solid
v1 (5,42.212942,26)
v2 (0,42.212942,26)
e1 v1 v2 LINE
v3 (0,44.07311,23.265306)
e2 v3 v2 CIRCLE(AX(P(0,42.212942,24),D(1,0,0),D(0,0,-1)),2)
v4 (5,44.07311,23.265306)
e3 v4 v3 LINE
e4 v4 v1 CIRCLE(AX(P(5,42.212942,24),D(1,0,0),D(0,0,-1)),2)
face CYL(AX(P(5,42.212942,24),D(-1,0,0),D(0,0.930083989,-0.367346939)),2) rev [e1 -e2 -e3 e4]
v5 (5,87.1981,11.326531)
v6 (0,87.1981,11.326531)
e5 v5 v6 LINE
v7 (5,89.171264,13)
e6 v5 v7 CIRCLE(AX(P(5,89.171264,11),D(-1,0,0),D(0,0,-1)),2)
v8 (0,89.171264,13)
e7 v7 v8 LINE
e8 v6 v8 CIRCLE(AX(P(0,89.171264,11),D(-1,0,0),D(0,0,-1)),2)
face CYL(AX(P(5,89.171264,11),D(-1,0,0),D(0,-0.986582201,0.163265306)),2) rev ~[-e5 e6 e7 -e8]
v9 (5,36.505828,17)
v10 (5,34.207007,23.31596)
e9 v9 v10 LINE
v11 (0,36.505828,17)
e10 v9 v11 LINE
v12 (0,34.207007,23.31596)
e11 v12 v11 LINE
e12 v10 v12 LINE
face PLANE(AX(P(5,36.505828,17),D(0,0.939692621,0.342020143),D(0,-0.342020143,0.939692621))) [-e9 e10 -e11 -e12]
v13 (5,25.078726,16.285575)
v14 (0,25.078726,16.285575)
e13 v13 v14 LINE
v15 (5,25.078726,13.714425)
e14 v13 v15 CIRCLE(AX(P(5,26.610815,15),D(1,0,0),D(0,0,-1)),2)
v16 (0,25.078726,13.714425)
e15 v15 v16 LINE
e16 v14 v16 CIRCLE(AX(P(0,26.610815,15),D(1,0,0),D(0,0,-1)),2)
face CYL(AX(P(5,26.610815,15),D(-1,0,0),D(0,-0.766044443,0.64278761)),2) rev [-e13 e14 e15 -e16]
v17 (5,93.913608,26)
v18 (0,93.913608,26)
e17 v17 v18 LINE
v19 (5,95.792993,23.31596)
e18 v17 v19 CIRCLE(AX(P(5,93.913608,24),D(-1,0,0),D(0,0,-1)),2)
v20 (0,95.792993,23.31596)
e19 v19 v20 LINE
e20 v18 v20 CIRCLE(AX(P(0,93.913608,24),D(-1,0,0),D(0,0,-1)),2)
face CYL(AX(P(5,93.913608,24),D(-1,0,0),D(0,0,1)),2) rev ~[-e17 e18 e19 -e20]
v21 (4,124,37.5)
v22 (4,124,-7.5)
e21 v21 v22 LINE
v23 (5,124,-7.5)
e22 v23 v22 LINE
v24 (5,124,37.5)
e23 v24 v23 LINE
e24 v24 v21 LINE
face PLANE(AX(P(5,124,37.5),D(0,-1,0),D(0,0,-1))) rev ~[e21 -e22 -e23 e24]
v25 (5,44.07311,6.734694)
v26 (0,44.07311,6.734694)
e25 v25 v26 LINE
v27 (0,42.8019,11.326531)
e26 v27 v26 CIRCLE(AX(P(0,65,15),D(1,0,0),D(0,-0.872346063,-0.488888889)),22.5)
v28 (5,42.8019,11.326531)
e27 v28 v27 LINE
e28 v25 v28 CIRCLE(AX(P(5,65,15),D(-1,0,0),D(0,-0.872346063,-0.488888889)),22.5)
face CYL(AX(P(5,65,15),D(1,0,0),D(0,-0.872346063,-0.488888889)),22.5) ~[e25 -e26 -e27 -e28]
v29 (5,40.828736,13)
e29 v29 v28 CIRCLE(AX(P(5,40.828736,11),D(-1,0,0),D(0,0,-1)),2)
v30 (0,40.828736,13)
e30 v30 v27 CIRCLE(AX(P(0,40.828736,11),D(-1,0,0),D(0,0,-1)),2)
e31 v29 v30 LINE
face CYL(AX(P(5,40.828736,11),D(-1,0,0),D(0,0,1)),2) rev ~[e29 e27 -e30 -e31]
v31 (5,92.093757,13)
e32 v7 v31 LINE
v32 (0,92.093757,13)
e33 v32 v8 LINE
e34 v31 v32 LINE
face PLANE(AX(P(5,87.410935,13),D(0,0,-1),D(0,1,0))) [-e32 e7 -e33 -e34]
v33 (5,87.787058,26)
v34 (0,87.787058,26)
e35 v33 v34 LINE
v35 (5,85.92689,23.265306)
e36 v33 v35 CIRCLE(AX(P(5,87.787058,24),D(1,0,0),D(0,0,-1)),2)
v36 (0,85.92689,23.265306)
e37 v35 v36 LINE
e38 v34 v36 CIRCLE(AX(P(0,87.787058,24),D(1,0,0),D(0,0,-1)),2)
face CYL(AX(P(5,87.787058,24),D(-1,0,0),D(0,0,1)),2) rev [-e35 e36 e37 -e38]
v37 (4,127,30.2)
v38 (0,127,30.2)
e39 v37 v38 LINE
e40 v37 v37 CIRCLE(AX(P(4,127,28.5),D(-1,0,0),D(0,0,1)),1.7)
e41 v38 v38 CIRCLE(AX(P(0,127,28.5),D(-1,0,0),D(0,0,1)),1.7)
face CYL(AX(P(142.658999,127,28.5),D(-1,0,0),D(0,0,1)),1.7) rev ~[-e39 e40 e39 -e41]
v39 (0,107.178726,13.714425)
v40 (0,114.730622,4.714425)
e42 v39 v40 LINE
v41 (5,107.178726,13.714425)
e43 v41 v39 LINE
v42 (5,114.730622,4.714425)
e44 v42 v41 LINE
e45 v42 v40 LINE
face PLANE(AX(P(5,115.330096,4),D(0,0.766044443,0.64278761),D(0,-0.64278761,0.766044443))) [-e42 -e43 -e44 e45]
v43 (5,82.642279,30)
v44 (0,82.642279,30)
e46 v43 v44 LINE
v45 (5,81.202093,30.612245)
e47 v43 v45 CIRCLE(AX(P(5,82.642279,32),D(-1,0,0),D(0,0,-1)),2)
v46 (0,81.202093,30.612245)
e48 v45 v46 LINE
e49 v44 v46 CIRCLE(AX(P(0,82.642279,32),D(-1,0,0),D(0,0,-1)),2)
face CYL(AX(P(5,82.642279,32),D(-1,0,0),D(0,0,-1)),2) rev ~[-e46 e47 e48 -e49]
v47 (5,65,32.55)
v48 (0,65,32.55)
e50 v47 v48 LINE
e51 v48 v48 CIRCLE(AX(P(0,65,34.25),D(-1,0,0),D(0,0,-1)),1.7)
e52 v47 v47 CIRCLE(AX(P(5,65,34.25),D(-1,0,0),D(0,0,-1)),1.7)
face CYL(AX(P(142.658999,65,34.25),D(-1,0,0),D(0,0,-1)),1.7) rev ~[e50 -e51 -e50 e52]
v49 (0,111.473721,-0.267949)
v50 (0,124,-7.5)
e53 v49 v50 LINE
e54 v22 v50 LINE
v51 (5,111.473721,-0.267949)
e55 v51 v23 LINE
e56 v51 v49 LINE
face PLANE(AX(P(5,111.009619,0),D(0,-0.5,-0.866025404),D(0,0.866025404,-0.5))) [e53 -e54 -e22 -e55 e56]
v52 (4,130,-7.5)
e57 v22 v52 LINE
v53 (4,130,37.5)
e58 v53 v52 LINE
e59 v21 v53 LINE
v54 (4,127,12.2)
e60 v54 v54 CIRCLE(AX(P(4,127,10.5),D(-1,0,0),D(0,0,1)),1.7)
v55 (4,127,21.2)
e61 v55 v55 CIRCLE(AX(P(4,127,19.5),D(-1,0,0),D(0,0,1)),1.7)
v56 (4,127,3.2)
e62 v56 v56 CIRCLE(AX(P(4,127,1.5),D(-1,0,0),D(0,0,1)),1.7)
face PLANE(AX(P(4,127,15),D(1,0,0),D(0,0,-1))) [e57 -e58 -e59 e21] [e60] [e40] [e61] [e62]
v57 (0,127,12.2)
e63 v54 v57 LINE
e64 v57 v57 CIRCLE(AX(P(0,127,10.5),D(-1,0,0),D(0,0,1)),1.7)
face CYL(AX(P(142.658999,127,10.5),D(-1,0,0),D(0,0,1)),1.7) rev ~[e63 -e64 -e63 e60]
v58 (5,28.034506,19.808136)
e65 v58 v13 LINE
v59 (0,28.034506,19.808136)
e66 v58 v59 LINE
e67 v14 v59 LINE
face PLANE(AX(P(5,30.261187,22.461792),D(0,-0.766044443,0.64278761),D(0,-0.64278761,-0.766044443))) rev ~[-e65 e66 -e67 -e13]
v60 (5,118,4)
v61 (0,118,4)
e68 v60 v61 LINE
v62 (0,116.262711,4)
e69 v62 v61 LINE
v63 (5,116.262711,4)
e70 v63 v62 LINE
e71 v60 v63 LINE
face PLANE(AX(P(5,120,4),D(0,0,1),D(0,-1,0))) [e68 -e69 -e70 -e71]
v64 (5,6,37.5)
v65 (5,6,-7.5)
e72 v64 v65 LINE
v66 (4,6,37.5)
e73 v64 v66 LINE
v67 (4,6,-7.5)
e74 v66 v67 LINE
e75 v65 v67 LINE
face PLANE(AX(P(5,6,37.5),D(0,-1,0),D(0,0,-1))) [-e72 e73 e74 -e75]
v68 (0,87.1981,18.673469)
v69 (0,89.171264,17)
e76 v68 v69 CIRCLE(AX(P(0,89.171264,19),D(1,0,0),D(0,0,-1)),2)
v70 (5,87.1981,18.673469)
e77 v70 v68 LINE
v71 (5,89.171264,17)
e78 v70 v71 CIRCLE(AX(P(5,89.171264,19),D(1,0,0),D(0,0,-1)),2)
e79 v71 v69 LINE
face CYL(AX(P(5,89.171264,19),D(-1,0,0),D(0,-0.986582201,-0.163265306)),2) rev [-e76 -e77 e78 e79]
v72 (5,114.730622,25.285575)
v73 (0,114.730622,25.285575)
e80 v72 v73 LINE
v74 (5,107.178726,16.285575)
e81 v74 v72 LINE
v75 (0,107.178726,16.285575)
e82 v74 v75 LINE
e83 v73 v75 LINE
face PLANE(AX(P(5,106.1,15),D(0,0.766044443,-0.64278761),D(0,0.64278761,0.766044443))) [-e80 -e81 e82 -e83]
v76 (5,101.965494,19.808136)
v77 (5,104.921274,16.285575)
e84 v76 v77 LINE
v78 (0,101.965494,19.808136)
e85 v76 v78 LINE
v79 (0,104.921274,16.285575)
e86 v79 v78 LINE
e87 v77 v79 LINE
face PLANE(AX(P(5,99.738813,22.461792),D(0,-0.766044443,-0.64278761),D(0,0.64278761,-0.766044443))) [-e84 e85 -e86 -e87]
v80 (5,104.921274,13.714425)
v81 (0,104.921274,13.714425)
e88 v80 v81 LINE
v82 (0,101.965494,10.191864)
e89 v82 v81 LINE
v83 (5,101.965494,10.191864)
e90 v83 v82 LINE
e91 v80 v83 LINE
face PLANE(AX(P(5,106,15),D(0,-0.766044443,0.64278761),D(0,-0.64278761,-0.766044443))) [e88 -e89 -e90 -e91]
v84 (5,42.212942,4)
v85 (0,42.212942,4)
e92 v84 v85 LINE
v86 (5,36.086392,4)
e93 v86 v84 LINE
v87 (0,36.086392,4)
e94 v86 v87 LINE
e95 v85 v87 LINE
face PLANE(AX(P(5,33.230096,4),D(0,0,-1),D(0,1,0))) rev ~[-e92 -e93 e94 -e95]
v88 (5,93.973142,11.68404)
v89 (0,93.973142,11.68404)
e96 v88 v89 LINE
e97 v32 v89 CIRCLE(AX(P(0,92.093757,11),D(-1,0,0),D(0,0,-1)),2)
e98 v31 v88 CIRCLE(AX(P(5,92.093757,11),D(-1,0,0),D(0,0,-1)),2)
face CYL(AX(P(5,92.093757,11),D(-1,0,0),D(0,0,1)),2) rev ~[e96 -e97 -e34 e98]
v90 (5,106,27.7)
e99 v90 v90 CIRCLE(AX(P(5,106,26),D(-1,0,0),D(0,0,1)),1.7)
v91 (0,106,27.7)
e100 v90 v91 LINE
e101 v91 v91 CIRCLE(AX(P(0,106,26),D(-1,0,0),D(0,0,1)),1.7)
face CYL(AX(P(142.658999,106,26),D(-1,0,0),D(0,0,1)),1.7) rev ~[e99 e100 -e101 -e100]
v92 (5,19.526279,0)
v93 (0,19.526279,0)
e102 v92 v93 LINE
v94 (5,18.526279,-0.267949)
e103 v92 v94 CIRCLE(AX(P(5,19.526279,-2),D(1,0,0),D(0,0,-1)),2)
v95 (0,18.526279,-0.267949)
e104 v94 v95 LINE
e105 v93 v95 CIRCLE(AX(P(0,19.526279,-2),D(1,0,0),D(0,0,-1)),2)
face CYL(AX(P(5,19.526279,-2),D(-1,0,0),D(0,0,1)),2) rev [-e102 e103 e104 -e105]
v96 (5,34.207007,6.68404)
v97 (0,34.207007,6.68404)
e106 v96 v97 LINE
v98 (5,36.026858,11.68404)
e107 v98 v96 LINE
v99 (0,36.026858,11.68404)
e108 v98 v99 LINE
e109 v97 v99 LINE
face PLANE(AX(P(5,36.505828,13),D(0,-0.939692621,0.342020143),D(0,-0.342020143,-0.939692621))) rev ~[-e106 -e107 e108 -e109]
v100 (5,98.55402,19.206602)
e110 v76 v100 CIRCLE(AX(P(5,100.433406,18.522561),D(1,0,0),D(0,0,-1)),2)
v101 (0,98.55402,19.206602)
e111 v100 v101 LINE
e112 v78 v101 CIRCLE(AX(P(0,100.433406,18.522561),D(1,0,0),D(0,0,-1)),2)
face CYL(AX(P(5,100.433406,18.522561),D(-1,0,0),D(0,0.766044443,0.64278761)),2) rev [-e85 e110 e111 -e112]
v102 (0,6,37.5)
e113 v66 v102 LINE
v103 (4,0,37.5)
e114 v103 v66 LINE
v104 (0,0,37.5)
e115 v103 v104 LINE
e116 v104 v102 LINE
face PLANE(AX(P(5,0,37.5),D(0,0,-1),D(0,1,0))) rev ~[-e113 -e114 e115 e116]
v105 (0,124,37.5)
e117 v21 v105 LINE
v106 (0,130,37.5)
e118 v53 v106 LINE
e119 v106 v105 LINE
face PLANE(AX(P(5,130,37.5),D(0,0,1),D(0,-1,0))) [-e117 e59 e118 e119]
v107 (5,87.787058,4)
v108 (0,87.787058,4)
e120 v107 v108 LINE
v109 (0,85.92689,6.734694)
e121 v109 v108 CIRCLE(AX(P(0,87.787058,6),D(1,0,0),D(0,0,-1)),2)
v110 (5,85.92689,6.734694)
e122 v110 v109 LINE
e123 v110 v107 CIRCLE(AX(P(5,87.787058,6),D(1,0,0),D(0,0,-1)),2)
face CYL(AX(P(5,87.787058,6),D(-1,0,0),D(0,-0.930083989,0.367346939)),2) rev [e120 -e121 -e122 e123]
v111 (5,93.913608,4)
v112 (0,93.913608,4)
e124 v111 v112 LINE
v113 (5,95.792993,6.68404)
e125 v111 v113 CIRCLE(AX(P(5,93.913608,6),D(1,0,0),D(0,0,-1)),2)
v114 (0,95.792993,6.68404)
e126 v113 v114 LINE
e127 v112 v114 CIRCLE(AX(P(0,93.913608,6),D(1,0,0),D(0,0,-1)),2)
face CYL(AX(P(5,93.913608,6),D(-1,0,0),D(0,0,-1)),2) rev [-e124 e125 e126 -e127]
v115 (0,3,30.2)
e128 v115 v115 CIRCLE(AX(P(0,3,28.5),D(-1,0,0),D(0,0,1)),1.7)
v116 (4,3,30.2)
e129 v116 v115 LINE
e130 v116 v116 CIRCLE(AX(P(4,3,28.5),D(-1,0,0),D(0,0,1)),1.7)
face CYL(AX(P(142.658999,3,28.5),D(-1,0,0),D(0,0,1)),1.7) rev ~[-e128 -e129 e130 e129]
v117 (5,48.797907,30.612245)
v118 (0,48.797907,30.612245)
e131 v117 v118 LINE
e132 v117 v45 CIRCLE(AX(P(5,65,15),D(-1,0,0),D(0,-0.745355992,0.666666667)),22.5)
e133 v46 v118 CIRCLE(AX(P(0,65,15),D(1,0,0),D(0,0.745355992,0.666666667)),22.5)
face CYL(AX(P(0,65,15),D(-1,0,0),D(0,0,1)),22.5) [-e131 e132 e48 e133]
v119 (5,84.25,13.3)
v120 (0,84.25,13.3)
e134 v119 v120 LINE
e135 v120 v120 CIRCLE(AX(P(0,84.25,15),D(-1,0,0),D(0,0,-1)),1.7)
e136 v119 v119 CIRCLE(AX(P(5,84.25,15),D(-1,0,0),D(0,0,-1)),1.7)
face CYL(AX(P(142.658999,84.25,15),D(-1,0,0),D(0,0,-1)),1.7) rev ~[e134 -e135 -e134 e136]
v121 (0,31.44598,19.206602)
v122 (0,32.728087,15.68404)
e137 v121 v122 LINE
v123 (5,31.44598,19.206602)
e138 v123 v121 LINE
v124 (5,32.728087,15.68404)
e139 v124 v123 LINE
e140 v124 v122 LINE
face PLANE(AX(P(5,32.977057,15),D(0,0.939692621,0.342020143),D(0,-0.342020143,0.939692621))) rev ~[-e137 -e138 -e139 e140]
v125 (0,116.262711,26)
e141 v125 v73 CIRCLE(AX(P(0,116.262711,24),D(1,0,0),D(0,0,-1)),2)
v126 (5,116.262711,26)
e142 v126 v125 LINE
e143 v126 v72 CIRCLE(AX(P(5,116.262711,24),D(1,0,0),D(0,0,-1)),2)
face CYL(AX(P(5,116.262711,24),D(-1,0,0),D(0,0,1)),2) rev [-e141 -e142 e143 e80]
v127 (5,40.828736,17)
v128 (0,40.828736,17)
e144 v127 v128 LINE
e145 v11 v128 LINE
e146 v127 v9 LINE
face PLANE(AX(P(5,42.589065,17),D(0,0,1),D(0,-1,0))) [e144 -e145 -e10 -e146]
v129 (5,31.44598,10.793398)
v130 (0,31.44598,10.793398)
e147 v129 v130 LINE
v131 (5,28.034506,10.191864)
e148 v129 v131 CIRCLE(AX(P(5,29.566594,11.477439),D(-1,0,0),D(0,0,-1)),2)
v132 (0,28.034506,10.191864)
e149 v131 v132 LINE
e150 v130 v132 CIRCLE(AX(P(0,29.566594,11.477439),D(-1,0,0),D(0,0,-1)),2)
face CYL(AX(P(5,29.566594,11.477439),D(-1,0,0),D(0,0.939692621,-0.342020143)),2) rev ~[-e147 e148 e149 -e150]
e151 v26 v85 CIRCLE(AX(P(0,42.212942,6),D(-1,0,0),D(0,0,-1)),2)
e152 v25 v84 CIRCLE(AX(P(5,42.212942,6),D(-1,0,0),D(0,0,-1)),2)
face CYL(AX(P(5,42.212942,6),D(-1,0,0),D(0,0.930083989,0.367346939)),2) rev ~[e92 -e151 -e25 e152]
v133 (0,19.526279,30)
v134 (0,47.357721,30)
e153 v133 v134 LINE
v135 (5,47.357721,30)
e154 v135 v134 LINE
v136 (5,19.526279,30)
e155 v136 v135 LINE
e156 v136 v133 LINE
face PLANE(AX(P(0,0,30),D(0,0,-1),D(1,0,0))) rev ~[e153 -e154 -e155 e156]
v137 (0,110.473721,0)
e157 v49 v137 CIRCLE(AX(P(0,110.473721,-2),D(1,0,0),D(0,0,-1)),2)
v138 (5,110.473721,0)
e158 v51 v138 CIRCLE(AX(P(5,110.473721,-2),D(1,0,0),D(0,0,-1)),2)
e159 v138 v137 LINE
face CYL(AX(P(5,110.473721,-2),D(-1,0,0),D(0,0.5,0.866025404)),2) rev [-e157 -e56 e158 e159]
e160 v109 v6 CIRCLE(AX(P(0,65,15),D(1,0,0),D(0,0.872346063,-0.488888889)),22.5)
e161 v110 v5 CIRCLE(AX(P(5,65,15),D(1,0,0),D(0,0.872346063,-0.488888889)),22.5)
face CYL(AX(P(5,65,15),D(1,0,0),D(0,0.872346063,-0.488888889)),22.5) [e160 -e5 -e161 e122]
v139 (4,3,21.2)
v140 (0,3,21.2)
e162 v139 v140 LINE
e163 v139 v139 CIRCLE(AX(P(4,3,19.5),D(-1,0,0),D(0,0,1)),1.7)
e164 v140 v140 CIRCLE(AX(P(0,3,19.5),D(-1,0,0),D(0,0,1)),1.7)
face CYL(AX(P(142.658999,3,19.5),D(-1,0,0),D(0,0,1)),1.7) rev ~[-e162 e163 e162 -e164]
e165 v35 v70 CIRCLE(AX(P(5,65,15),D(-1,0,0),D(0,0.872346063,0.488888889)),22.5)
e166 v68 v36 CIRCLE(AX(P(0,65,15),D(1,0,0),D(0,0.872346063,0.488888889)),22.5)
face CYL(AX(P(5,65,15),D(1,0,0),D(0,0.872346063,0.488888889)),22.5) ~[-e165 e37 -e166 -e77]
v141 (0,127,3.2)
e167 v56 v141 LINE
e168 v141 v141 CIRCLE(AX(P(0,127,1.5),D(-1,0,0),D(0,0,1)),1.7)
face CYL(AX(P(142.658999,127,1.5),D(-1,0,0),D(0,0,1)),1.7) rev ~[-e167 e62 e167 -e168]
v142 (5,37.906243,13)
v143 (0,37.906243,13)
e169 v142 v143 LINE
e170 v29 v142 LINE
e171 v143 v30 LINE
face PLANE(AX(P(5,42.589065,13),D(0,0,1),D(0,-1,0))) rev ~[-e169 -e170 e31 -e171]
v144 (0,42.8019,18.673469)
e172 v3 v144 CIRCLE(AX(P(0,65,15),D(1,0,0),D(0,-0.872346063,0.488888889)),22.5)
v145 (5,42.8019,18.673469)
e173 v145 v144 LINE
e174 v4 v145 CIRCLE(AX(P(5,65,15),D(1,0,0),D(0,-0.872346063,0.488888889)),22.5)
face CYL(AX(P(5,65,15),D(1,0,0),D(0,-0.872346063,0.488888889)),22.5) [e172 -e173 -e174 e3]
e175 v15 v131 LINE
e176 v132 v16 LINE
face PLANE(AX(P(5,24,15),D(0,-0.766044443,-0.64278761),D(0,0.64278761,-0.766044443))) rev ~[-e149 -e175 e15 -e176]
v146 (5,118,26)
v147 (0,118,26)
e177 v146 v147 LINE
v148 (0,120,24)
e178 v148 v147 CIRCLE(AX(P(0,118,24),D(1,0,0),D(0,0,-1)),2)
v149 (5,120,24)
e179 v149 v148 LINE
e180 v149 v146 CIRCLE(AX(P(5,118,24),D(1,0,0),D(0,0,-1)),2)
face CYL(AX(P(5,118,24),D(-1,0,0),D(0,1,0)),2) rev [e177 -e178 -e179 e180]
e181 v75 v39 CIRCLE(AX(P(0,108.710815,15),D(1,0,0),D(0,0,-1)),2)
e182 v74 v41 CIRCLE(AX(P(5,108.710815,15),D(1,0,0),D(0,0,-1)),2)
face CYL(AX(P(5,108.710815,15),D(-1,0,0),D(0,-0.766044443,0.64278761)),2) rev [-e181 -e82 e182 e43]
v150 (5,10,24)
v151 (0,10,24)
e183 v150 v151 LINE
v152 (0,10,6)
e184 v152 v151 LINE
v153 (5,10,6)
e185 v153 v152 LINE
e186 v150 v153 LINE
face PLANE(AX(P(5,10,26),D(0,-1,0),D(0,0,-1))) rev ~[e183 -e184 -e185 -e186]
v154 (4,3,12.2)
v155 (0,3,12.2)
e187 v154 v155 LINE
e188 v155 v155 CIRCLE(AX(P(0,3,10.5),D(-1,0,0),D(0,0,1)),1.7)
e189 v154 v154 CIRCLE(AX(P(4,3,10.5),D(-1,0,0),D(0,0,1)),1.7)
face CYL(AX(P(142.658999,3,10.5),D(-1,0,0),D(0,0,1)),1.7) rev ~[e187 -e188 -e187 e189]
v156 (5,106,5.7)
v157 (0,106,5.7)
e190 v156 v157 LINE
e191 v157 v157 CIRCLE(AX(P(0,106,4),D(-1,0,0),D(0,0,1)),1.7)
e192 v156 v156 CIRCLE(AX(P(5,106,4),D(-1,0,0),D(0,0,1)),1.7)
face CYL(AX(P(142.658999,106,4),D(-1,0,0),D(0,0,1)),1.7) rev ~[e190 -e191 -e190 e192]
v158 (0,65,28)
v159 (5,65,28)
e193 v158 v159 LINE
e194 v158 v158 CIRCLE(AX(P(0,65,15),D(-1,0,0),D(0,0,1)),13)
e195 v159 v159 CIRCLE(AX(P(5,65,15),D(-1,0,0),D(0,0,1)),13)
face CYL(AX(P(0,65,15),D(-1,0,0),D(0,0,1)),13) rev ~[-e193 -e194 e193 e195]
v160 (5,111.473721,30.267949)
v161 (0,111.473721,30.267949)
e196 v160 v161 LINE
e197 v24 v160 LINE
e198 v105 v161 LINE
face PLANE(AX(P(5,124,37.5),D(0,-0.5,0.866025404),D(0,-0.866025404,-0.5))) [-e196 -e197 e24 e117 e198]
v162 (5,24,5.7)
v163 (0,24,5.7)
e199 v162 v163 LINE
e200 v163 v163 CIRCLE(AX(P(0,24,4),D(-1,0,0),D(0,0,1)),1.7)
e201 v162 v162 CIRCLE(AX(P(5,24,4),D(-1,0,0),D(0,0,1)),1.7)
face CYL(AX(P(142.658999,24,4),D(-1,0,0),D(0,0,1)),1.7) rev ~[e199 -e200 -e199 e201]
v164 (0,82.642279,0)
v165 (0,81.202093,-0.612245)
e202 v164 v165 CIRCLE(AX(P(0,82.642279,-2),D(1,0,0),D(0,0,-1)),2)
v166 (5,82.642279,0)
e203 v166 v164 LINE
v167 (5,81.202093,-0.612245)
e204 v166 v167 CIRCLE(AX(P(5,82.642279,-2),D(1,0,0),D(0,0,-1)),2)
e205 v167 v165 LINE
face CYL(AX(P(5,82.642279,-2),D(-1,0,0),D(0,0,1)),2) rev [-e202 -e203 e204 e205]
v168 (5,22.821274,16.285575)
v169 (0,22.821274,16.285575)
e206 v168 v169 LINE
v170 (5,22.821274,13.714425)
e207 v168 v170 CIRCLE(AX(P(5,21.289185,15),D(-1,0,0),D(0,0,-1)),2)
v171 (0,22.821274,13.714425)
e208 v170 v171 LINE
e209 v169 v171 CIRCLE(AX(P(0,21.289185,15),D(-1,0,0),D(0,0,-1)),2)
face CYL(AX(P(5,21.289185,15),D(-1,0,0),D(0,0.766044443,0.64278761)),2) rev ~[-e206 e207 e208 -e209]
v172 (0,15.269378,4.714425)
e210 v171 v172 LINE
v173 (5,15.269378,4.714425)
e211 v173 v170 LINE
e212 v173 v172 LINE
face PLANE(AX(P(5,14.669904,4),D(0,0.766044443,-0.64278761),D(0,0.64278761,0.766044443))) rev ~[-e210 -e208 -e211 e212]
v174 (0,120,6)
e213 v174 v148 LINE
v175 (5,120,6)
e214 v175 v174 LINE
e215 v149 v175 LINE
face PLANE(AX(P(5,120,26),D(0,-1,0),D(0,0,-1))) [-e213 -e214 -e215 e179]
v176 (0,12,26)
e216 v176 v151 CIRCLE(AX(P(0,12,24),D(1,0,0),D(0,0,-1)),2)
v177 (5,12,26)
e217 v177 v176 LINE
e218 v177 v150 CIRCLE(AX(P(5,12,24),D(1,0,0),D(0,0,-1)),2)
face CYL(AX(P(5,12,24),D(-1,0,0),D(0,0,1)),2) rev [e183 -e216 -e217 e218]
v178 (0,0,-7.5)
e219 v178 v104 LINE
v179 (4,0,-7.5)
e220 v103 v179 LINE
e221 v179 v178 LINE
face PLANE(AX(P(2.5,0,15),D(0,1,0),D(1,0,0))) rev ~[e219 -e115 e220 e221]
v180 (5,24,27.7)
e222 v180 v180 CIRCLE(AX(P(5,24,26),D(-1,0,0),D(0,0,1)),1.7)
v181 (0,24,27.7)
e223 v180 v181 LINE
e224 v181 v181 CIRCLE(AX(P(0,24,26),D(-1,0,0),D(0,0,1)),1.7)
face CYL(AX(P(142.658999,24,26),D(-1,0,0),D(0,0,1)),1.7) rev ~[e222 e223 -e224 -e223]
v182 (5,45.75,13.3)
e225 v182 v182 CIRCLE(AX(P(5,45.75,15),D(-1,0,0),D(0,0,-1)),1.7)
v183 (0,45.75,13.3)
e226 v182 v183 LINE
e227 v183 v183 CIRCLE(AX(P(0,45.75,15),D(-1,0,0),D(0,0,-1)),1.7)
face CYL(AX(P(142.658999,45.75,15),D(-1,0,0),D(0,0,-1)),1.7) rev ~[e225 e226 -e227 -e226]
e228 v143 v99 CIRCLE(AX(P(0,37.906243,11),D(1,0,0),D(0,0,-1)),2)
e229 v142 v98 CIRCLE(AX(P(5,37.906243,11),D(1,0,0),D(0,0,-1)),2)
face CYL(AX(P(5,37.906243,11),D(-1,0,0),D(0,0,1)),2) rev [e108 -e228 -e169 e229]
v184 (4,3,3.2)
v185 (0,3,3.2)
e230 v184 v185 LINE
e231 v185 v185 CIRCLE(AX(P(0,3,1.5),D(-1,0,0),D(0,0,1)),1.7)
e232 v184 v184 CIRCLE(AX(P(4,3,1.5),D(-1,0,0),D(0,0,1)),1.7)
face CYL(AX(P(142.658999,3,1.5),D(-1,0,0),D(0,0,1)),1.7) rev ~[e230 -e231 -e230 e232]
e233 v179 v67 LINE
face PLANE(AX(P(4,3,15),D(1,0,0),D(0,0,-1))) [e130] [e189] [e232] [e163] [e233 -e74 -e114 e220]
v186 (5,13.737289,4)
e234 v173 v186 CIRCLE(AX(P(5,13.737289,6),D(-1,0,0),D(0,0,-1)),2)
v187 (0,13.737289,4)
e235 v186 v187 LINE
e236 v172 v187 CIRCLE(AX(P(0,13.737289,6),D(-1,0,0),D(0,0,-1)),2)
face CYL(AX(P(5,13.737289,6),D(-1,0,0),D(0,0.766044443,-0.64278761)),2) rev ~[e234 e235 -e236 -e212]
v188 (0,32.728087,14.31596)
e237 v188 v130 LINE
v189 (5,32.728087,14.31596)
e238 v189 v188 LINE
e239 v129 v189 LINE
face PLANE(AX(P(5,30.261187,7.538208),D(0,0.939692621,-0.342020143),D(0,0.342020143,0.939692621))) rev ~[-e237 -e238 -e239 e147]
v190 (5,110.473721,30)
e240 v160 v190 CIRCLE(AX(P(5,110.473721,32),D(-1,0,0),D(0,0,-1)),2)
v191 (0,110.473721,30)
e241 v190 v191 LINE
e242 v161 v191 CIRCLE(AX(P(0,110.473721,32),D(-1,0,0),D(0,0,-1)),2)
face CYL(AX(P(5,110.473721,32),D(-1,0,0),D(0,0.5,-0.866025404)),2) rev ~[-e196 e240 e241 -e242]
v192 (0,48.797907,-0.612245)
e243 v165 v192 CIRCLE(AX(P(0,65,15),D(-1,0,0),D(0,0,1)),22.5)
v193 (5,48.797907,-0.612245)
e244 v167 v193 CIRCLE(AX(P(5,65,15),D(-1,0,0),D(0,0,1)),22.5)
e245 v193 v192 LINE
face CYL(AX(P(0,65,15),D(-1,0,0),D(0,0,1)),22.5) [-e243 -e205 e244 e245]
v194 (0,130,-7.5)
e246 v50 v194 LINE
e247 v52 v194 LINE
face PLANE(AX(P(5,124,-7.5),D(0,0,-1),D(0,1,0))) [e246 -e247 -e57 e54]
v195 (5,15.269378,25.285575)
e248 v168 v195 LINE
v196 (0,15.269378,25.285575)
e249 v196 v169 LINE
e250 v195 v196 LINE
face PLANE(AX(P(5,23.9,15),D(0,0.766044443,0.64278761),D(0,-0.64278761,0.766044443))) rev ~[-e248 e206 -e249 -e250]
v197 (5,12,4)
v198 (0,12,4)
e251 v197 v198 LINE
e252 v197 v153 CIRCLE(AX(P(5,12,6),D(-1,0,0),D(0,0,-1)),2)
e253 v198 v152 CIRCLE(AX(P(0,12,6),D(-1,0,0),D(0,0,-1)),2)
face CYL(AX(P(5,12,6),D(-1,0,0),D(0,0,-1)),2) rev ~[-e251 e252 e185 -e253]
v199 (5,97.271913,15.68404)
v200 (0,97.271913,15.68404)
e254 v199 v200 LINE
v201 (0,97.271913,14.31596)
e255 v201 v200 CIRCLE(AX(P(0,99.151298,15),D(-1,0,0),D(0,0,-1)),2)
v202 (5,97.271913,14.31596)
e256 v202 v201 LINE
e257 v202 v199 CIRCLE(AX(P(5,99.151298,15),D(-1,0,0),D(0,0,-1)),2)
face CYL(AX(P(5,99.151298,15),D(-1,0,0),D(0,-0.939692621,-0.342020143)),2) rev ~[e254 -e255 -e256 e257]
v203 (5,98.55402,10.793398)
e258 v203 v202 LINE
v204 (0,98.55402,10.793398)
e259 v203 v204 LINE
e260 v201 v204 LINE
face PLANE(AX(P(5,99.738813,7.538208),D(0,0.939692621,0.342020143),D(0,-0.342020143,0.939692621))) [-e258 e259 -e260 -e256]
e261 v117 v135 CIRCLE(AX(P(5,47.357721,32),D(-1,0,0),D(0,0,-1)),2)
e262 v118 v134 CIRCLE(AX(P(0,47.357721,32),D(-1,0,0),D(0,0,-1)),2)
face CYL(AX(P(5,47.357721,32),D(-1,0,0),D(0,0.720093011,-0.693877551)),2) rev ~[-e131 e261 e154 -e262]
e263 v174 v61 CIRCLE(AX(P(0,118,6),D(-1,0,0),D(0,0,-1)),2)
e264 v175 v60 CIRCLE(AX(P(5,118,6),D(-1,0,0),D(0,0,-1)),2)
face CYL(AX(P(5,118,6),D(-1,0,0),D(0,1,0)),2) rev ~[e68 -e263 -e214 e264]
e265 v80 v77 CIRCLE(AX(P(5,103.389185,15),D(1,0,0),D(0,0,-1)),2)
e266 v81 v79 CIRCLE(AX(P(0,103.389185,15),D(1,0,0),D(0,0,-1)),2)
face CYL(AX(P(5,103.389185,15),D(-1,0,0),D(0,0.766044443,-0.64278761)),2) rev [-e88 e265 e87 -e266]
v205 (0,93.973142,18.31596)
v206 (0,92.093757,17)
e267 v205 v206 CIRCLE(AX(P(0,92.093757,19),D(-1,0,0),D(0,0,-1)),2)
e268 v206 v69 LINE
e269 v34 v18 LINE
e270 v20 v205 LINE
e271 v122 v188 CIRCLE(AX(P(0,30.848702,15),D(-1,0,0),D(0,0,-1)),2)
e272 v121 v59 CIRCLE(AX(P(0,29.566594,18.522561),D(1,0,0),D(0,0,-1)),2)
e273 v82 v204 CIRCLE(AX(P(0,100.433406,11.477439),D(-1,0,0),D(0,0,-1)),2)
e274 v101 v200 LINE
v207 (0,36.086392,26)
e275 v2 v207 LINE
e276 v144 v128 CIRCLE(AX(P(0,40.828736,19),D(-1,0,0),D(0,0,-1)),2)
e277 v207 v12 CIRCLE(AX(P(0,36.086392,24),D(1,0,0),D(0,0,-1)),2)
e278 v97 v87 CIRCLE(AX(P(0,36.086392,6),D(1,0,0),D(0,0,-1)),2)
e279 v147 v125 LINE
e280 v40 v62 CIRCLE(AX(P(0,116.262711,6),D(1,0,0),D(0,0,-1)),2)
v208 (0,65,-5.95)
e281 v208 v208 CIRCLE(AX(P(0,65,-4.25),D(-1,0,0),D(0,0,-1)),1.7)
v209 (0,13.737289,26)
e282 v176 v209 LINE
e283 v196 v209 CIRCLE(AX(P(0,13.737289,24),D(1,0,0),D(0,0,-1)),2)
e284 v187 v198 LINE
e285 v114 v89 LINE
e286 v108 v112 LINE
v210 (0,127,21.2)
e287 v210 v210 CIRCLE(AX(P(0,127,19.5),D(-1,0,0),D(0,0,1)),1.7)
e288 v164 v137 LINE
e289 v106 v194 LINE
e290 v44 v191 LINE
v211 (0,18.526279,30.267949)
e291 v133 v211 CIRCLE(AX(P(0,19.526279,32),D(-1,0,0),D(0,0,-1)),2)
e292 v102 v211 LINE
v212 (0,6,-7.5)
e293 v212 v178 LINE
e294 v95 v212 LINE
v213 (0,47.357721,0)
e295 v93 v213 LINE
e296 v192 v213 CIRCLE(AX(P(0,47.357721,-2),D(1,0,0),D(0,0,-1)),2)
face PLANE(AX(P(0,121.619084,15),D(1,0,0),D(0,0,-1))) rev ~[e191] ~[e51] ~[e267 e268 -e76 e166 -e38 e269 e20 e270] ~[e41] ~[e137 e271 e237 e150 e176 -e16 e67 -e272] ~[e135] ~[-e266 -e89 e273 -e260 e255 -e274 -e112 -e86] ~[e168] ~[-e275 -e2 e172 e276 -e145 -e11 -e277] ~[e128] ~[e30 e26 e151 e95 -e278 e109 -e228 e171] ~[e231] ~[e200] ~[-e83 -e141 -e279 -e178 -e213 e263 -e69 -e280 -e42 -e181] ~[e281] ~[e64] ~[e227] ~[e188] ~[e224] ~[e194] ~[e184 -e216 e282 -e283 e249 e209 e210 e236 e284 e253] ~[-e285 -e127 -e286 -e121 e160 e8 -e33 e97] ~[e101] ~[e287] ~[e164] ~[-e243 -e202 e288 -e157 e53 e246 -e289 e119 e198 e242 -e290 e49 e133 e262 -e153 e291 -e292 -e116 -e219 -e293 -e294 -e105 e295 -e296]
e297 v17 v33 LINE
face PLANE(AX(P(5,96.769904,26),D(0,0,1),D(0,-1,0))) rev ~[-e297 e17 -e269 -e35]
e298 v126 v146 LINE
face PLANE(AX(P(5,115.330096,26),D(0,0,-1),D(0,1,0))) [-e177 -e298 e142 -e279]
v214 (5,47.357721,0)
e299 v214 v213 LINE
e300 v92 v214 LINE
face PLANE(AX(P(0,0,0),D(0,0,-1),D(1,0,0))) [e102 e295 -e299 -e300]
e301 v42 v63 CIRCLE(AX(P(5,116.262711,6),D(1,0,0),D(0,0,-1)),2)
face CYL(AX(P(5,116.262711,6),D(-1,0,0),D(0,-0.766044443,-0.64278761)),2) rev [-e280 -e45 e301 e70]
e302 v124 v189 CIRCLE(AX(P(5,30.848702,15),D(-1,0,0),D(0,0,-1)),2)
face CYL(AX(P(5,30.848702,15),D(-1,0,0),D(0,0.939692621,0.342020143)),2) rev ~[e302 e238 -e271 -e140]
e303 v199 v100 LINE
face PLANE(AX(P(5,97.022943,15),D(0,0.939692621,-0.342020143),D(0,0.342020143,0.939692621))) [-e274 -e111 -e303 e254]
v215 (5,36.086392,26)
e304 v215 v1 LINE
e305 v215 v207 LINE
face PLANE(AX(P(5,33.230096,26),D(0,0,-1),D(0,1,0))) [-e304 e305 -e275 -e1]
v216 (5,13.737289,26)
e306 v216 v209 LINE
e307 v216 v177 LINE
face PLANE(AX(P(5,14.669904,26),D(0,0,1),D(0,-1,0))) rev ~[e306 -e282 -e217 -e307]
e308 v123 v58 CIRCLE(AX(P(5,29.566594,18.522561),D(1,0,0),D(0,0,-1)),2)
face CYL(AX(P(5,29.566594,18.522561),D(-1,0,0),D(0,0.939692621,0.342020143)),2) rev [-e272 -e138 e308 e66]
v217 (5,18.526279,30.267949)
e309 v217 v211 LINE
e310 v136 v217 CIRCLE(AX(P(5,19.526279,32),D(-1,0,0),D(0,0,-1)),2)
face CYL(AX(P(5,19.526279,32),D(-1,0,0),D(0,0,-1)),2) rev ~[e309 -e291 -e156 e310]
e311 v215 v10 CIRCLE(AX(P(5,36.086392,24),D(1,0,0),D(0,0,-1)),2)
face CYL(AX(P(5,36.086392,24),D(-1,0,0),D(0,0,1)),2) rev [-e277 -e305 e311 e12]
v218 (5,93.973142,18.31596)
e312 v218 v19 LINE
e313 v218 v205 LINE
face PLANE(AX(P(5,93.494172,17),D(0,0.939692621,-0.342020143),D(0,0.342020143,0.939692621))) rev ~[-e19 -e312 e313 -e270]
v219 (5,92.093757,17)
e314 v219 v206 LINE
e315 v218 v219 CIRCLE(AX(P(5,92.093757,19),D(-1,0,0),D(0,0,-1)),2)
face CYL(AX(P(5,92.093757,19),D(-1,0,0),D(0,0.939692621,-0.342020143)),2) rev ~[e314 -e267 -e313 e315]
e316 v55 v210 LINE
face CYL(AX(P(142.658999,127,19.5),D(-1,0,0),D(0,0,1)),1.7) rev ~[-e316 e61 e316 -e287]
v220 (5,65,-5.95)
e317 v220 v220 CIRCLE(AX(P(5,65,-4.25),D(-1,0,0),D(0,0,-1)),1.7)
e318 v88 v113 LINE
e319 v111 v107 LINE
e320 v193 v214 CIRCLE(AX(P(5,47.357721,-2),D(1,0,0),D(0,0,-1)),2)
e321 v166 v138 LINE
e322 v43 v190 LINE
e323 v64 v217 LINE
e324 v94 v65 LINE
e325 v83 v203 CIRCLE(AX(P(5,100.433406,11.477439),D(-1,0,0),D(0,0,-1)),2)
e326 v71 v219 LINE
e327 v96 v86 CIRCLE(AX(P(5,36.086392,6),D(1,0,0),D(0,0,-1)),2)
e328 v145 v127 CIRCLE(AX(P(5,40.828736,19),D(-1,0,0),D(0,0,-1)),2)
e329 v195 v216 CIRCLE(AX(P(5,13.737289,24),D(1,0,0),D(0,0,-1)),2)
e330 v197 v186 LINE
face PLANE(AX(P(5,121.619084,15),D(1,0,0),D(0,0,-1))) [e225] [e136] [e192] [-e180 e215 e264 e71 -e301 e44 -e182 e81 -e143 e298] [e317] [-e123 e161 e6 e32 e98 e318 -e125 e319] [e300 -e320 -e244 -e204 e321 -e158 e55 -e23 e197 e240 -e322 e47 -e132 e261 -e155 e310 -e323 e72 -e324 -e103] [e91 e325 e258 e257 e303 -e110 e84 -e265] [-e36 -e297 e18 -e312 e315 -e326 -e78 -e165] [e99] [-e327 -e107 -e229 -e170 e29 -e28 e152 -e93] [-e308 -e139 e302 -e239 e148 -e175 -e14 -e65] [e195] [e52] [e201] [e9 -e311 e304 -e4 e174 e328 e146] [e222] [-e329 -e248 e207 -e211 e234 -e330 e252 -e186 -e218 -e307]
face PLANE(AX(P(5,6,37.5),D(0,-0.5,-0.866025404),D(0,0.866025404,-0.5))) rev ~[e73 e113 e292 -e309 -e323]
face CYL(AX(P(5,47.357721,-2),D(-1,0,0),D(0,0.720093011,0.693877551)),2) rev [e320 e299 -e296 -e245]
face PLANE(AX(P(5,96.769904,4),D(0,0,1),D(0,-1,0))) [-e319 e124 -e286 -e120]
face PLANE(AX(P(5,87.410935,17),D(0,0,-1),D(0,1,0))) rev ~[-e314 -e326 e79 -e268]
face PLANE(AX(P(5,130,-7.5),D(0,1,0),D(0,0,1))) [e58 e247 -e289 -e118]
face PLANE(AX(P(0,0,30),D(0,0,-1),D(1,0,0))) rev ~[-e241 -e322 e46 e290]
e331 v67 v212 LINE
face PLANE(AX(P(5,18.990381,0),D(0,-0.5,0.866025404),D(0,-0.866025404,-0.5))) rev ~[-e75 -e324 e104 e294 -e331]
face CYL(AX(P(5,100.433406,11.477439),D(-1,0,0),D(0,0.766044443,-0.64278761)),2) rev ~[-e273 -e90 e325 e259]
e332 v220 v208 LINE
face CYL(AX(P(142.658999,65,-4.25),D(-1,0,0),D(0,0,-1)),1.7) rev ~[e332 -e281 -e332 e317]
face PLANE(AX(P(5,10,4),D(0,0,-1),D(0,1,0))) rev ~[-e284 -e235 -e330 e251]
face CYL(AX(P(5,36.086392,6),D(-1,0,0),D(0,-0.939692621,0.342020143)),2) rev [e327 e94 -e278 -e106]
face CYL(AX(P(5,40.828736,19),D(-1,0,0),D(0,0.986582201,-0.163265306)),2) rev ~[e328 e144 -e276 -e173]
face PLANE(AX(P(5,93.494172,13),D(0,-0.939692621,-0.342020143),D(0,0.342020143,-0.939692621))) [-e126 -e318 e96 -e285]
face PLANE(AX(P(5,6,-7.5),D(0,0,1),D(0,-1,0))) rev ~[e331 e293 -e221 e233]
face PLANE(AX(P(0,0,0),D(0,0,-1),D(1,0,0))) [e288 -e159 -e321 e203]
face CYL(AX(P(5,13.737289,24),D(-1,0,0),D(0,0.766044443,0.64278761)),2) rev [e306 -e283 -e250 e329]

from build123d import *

# Parameters (mm, degrees)
SKETCH_1_W          = 5
SKETCH_1_H          = 30
EXTRUDE_1_DEPTH     = 130
SKETCH_2_R          = 22.5
EXTRUDE_2_DEPTH     = 5
SKETCH_3_R          = 13
CUT_EXTRUDE_1_DEPTH = 136.392946641
HOLE_WIZARD_M33_D   = 3.4
HOLE_WIZARD_M32_D   = 3.4
EXTRUDE_3_DEPTH     = 5
HOLE_WIZARD_M31_D   = 3.4
SKETCH_14_W         = 45
SKETCH_14_H         = 6
CUT_EXTRUDE_2_DEPTH = 1
CUT_EXTRUDE_3_REACH = 137.393
FILLET_1_R          = 2
FILLET_2_R          = 2


with BuildPart() as part:
    # Эскиз1 → Бобышка-Вытянуть1 (new body)
    with BuildSketch(Plane(origin=(0, 0, 0), x_dir=(1, 0, 0), z_dir=(0, 1, 0))):
        with Locations((2.5, -15)):
            Rectangle(SKETCH_1_W, SKETCH_1_H)
    extrude(amount=EXTRUDE_1_DEPTH)

    # Эскиз2 → Бобышка-Вытянуть2 (add)
    with BuildSketch(Plane.ZY):
        with Locations((15, 65)):
            Circle(SKETCH_2_R)
    extrude(amount=-EXTRUDE_2_DEPTH)

    # Эскиз3 → Вырез-Вытянуть1 (cut, through all)
    with BuildSketch(Plane.ZY):
        with Locations((15, 65)):
            Circle(SKETCH_3_R)
    extrude(amount=-CUT_EXTRUDE_1_DEPTH, mode=Mode.SUBTRACT)

    # Отверстие с зазором M33 (through all)
    with Locations(Plane(origin=(5, -25.024735225, 7.262908886), x_dir=(0, 0, 1), z_dir=(1, 0, 0))):
        with Locations((7.737091114, -109.274735225), (-11.512908886, -90.024735225), (7.737091114, -70.774735225), (26.987091114, -90.024735225)):
            Hole(HOLE_WIZARD_M33_D / 2)

    # Отверстие с зазором M32 (through all)
    with Locations(Plane(origin=(5, 0, 0), x_dir=(0, 0, -1), z_dir=(1, 0, 0))):
        with Locations((-26, 106), (-4, 106), (-4, 24), (-26, 24)):
            Hole(HOLE_WIZARD_M32_D / 2)

    # Эскиз11 → Бобышка-Вытянуть3 (add)
    with BuildSketch(Plane(origin=(5, 0, 0), x_dir=(0, 0, -1), z_dir=(1, 0, 0))):
        Polygon((-37.5, 124), (-30, 111.009618943), (0, 111.009618943), (7.5, 124), (7.5, 130), (-37.5, 130), align=None)
        Polygon((0, 18.990381057), (7.5, 6), (7.5, 0), (-37.5, 0), (-37.5, 6), (-30, 18.990381057), align=None)
    extrude(amount=-EXTRUDE_3_DEPTH)

    # Отверстие с зазором M31 (through all)
    with Locations(Plane(origin=(5, 0, 0), x_dir=(0, 0, -1), z_dir=(1, 0, 0))):
        with Locations((-28.5, 127), (-19.5, 127), (-10.5, 127), (-1.5, 127), (-28.5, 3), (-19.5, 3), (-10.5, 3), (-1.5, 3)):
            Hole(HOLE_WIZARD_M31_D / 2)

    # Эскиз14 → Вырез-Вытянуть2 (cut)
    with BuildSketch(Plane(origin=(5, 0, 0), x_dir=(0, 0, -1), z_dir=(1, 0, 0))):
        with Locations((-15, 127)):
            Rectangle(SKETCH_14_W, SKETCH_14_H)
        with Locations((-15, 3)):
            Rectangle(SKETCH_14_W, SKETCH_14_H)
    extrude(amount=-CUT_EXTRUDE_2_DEPTH, mode=Mode.SUBTRACT)

    # Эскиз15 → Вырез-Вытянуть3 (cut, up to next)
    with BuildSketch(Plane(origin=(5, 0, 0), x_dir=(0, 0, -1), z_dir=(1, 0, 0)), mode=Mode.PRIVATE) as cut_extrude_3_sk1:
        with BuildLine():
            Line((-17, 42.589065169), (-17, 36.505828051))
            Line((-17, 36.505828051), (-26, 33.230095943))
            Line((-26, 33.230095943), (-26, 45.372213574))
            ThreePointArc((-26, 45.372213574), (-21.647291084, 43.504337153), (-17, 42.589065169))
        make_face()
    cut_extrude_3_tool1 = extrude(cut_extrude_3_sk1.sketch, amount=-CUT_EXTRUDE_3_REACH, mode=Mode.PRIVATE) & part.part
    # Эскиз15 → Вырез-Вытянуть3 (cut, up to next)
    with BuildSketch(Plane(origin=(5, 0, 0), x_dir=(0, 0, -1), z_dir=(1, 0, 0)), mode=Mode.PRIVATE) as cut_extrude_3_sk2:
        with BuildLine():
            Line((-13, 42.589065169), (-13, 36.505828051))
            Line((-13, 36.505828051), (-4, 33.230095943))
            Line((-4, 33.230095943), (-4, 45.372213574))
            ThreePointArc((-4, 45.372213574), (-8.352708916, 43.504337153), (-13, 42.589065169))
        make_face()
    cut_extrude_3_tool2 = extrude(cut_extrude_3_sk2.sketch, amount=-CUT_EXTRUDE_3_REACH, mode=Mode.PRIVATE) & part.part
    # Эскиз15 → Вырез-Вытянуть3 (cut, up to next)
    with BuildSketch(Plane(origin=(5, 0, 0), x_dir=(0, 0, -1), z_dir=(1, 0, 0)), mode=Mode.PRIVATE) as cut_extrude_3_sk3:
        Polygon((-15, 32.97705743), (-22.461792276, 30.261187147), (-15, 24), (-7.538207724, 30.261187147), align=None)
    cut_extrude_3_tool3 = extrude(cut_extrude_3_sk3.sketch, amount=-CUT_EXTRUDE_3_REACH, mode=Mode.PRIVATE) & part.part
    # Эскиз15 → Вырез-Вытянуть3 (cut, up to next)
    with BuildSketch(Plane(origin=(5, 0, 0), x_dir=(0, 0, -1), z_dir=(1, 0, 0)), mode=Mode.PRIVATE) as cut_extrude_3_sk4:
        Polygon((-15, 23.9), (-26, 14.669904057), (-26, 10), (-4, 10), (-4, 14.669904057), align=None)
    cut_extrude_3_tool4 = extrude(cut_extrude_3_sk4.sketch, amount=-CUT_EXTRUDE_3_REACH, mode=Mode.PRIVATE) & part.part
    # Эскиз15 → Вырез-Вытянуть3 (cut, up to next)
    with BuildSketch(Plane(origin=(5, 0, 0), x_dir=(0, 0, -1), z_dir=(1, 0, 0)), mode=Mode.PRIVATE) as cut_extrude_3_sk5:
        with BuildLine():
            Line((-13, 87.410934831), (-13, 93.494171949))
            Line((-13, 93.494171949), (-4, 96.769904057))
            Line((-4, 96.769904057), (-4, 84.627786426))
            ThreePointArc((-4, 84.627786426), (-8.352708916, 86.495662847), (-13, 87.410934831))
        make_face()
    cut_extrude_3_tool5 = extrude(cut_extrude_3_sk5.sketch, amount=-CUT_EXTRUDE_3_REACH, mode=Mode.PRIVATE) & part.part
    # Эскиз15 → Вырез-Вытянуть3 (cut, up to next)
    with BuildSketch(Plane(origin=(5, 0, 0), x_dir=(0, 0, -1), z_dir=(1, 0, 0)), mode=Mode.PRIVATE) as cut_extrude_3_sk6:
        with BuildLine():
            Line((-26, 96.769904057), (-26, 84.627786426))
            ThreePointArc((-26, 84.627786426), (-21.647291084, 86.495662847), (-17, 87.410934831))
            Line((-17, 87.410934831), (-17, 93.494171949))
            Line((-17, 93.494171949), (-26, 96.769904057))
        make_face()
    cut_extrude_3_tool6 = extrude(cut_extrude_3_sk6.sketch, amount=-CUT_EXTRUDE_3_REACH, mode=Mode.PRIVATE) & part.part
    # Эскиз15 → Вырез-Вытянуть3 (cut, up to next)
    with BuildSketch(Plane(origin=(5, 0, 0), x_dir=(0, 0, -1), z_dir=(1, 0, 0)), mode=Mode.PRIVATE) as cut_extrude_3_sk7:
        Polygon((-7.538207724, 99.738812853), (-15, 97.02294257), (-22.461792276, 99.738812853), (-15, 106), align=None)
    cut_extrude_3_tool7 = extrude(cut_extrude_3_sk7.sketch, amount=-CUT_EXTRUDE_3_REACH, mode=Mode.PRIVATE) & part.part
    # Эскиз15 → Вырез-Вытянуть3 (cut, up to next)
    with BuildSketch(Plane(origin=(5, 0, 0), x_dir=(0, 0, -1), z_dir=(1, 0, 0)), mode=Mode.PRIVATE) as cut_extrude_3_sk8:
        Polygon((-4, 120), (-4, 115.330095943), (-15, 106.1), (-26, 115.330095943), (-26, 120), align=None)
    cut_extrude_3_tool8 = extrude(cut_extrude_3_sk8.sketch, amount=-CUT_EXTRUDE_3_REACH, mode=Mode.PRIVATE) & part.part
    add(cut_extrude_3_tool1.solids().sort_by_distance((5, 39.236423, 22.016157))[0], mode=Mode.SUBTRACT)
    add(cut_extrude_3_tool2.solids().sort_by_distance((5, 39.236423, 7.983843))[0], mode=Mode.SUBTRACT)
    add(cut_extrude_3_tool3.solids().sort_by_distance((5, 29.079415, 15))[0], mode=Mode.SUBTRACT)
    add(cut_extrude_3_tool4.solids().sort_by_distance((5, 15.024791, 15))[0], mode=Mode.SUBTRACT)
    add(cut_extrude_3_tool5.solids().sort_by_distance((5, 90.763577, 7.983843))[0], mode=Mode.SUBTRACT)
    add(cut_extrude_3_tool6.solids().sort_by_distance((5, 90.763577, 22.016157))[0], mode=Mode.SUBTRACT)
    add(cut_extrude_3_tool7.solids().sort_by_distance((5, 100.920585, 15))[0], mode=Mode.SUBTRACT)
    add(cut_extrude_3_tool8.solids().sort_by_distance((5, 114.975209, 15))[0], mode=Mode.SUBTRACT)

    # Скругление1
    fillet_1_edges = [part.edges().sort_by_distance(p)[0] for p in [
        (2.5, 18.990381057, 30),
        (2.5, 18.990381057, 0),
        (2.5, 48.229490169, 0),
        (2.5, 81.770509831, 0),
        (2.5, 48.229490169, 30),
        (2.5, 81.770509831, 30),
        (2.5, 111.009618943, 0),
        (2.5, 111.009618943, 30),
    ]]
    fillet(fillet_1_edges, radius=FILLET_1_R)

    # Скругление2
    fillet_2_edges = [part.edges().sort_by_distance(p)[0] for p in [
        (2.5, 45.372213574, 26),
        (2.5, 42.589065169, 17),
        (2.5, 33.230095943, 26),
        (2.5, 42.589065169, 13),
        (2.5, 45.372213574, 4),
        (2.5, 33.230095943, 4),
        (2.5, 36.505828051, 13),
        (2.5, 32.97705743, 15),
        (2.5, 30.261187147, 7.538207724),
        (2.5, 24, 15),
        (2.5, 30.261187147, 22.461792276),
        (2.5, 23.9, 15),
        (2.5, 14.669904057, 4),
        (2.5, 10, 4),
        (2.5, 10, 26),
        (2.5, 14.669904057, 26),
        (2.5, 84.627786426, 4),
        (2.5, 87.410934831, 13),
        (2.5, 93.494171949, 13),
        (2.5, 96.769904057, 4),
        (2.5, 87.410934831, 17),
        (2.5, 84.627786426, 26),
        (2.5, 96.769904057, 26),
        (2.5, 93.494171949, 17),
        (2.5, 106, 15),
        (2.5, 99.738812853, 7.538207724),
        (2.5, 97.02294257, 15),
        (2.5, 99.738812853, 22.461792276),
        (2.5, 120, 26),
        (2.5, 120, 4),
        (2.5, 115.330095943, 4),
        (2.5, 106.1, 15),
        (2.5, 115.330095943, 26),
    ]]
    fillet(fillet_2_edges, radius=FILLET_2_R)


solid = part.part
